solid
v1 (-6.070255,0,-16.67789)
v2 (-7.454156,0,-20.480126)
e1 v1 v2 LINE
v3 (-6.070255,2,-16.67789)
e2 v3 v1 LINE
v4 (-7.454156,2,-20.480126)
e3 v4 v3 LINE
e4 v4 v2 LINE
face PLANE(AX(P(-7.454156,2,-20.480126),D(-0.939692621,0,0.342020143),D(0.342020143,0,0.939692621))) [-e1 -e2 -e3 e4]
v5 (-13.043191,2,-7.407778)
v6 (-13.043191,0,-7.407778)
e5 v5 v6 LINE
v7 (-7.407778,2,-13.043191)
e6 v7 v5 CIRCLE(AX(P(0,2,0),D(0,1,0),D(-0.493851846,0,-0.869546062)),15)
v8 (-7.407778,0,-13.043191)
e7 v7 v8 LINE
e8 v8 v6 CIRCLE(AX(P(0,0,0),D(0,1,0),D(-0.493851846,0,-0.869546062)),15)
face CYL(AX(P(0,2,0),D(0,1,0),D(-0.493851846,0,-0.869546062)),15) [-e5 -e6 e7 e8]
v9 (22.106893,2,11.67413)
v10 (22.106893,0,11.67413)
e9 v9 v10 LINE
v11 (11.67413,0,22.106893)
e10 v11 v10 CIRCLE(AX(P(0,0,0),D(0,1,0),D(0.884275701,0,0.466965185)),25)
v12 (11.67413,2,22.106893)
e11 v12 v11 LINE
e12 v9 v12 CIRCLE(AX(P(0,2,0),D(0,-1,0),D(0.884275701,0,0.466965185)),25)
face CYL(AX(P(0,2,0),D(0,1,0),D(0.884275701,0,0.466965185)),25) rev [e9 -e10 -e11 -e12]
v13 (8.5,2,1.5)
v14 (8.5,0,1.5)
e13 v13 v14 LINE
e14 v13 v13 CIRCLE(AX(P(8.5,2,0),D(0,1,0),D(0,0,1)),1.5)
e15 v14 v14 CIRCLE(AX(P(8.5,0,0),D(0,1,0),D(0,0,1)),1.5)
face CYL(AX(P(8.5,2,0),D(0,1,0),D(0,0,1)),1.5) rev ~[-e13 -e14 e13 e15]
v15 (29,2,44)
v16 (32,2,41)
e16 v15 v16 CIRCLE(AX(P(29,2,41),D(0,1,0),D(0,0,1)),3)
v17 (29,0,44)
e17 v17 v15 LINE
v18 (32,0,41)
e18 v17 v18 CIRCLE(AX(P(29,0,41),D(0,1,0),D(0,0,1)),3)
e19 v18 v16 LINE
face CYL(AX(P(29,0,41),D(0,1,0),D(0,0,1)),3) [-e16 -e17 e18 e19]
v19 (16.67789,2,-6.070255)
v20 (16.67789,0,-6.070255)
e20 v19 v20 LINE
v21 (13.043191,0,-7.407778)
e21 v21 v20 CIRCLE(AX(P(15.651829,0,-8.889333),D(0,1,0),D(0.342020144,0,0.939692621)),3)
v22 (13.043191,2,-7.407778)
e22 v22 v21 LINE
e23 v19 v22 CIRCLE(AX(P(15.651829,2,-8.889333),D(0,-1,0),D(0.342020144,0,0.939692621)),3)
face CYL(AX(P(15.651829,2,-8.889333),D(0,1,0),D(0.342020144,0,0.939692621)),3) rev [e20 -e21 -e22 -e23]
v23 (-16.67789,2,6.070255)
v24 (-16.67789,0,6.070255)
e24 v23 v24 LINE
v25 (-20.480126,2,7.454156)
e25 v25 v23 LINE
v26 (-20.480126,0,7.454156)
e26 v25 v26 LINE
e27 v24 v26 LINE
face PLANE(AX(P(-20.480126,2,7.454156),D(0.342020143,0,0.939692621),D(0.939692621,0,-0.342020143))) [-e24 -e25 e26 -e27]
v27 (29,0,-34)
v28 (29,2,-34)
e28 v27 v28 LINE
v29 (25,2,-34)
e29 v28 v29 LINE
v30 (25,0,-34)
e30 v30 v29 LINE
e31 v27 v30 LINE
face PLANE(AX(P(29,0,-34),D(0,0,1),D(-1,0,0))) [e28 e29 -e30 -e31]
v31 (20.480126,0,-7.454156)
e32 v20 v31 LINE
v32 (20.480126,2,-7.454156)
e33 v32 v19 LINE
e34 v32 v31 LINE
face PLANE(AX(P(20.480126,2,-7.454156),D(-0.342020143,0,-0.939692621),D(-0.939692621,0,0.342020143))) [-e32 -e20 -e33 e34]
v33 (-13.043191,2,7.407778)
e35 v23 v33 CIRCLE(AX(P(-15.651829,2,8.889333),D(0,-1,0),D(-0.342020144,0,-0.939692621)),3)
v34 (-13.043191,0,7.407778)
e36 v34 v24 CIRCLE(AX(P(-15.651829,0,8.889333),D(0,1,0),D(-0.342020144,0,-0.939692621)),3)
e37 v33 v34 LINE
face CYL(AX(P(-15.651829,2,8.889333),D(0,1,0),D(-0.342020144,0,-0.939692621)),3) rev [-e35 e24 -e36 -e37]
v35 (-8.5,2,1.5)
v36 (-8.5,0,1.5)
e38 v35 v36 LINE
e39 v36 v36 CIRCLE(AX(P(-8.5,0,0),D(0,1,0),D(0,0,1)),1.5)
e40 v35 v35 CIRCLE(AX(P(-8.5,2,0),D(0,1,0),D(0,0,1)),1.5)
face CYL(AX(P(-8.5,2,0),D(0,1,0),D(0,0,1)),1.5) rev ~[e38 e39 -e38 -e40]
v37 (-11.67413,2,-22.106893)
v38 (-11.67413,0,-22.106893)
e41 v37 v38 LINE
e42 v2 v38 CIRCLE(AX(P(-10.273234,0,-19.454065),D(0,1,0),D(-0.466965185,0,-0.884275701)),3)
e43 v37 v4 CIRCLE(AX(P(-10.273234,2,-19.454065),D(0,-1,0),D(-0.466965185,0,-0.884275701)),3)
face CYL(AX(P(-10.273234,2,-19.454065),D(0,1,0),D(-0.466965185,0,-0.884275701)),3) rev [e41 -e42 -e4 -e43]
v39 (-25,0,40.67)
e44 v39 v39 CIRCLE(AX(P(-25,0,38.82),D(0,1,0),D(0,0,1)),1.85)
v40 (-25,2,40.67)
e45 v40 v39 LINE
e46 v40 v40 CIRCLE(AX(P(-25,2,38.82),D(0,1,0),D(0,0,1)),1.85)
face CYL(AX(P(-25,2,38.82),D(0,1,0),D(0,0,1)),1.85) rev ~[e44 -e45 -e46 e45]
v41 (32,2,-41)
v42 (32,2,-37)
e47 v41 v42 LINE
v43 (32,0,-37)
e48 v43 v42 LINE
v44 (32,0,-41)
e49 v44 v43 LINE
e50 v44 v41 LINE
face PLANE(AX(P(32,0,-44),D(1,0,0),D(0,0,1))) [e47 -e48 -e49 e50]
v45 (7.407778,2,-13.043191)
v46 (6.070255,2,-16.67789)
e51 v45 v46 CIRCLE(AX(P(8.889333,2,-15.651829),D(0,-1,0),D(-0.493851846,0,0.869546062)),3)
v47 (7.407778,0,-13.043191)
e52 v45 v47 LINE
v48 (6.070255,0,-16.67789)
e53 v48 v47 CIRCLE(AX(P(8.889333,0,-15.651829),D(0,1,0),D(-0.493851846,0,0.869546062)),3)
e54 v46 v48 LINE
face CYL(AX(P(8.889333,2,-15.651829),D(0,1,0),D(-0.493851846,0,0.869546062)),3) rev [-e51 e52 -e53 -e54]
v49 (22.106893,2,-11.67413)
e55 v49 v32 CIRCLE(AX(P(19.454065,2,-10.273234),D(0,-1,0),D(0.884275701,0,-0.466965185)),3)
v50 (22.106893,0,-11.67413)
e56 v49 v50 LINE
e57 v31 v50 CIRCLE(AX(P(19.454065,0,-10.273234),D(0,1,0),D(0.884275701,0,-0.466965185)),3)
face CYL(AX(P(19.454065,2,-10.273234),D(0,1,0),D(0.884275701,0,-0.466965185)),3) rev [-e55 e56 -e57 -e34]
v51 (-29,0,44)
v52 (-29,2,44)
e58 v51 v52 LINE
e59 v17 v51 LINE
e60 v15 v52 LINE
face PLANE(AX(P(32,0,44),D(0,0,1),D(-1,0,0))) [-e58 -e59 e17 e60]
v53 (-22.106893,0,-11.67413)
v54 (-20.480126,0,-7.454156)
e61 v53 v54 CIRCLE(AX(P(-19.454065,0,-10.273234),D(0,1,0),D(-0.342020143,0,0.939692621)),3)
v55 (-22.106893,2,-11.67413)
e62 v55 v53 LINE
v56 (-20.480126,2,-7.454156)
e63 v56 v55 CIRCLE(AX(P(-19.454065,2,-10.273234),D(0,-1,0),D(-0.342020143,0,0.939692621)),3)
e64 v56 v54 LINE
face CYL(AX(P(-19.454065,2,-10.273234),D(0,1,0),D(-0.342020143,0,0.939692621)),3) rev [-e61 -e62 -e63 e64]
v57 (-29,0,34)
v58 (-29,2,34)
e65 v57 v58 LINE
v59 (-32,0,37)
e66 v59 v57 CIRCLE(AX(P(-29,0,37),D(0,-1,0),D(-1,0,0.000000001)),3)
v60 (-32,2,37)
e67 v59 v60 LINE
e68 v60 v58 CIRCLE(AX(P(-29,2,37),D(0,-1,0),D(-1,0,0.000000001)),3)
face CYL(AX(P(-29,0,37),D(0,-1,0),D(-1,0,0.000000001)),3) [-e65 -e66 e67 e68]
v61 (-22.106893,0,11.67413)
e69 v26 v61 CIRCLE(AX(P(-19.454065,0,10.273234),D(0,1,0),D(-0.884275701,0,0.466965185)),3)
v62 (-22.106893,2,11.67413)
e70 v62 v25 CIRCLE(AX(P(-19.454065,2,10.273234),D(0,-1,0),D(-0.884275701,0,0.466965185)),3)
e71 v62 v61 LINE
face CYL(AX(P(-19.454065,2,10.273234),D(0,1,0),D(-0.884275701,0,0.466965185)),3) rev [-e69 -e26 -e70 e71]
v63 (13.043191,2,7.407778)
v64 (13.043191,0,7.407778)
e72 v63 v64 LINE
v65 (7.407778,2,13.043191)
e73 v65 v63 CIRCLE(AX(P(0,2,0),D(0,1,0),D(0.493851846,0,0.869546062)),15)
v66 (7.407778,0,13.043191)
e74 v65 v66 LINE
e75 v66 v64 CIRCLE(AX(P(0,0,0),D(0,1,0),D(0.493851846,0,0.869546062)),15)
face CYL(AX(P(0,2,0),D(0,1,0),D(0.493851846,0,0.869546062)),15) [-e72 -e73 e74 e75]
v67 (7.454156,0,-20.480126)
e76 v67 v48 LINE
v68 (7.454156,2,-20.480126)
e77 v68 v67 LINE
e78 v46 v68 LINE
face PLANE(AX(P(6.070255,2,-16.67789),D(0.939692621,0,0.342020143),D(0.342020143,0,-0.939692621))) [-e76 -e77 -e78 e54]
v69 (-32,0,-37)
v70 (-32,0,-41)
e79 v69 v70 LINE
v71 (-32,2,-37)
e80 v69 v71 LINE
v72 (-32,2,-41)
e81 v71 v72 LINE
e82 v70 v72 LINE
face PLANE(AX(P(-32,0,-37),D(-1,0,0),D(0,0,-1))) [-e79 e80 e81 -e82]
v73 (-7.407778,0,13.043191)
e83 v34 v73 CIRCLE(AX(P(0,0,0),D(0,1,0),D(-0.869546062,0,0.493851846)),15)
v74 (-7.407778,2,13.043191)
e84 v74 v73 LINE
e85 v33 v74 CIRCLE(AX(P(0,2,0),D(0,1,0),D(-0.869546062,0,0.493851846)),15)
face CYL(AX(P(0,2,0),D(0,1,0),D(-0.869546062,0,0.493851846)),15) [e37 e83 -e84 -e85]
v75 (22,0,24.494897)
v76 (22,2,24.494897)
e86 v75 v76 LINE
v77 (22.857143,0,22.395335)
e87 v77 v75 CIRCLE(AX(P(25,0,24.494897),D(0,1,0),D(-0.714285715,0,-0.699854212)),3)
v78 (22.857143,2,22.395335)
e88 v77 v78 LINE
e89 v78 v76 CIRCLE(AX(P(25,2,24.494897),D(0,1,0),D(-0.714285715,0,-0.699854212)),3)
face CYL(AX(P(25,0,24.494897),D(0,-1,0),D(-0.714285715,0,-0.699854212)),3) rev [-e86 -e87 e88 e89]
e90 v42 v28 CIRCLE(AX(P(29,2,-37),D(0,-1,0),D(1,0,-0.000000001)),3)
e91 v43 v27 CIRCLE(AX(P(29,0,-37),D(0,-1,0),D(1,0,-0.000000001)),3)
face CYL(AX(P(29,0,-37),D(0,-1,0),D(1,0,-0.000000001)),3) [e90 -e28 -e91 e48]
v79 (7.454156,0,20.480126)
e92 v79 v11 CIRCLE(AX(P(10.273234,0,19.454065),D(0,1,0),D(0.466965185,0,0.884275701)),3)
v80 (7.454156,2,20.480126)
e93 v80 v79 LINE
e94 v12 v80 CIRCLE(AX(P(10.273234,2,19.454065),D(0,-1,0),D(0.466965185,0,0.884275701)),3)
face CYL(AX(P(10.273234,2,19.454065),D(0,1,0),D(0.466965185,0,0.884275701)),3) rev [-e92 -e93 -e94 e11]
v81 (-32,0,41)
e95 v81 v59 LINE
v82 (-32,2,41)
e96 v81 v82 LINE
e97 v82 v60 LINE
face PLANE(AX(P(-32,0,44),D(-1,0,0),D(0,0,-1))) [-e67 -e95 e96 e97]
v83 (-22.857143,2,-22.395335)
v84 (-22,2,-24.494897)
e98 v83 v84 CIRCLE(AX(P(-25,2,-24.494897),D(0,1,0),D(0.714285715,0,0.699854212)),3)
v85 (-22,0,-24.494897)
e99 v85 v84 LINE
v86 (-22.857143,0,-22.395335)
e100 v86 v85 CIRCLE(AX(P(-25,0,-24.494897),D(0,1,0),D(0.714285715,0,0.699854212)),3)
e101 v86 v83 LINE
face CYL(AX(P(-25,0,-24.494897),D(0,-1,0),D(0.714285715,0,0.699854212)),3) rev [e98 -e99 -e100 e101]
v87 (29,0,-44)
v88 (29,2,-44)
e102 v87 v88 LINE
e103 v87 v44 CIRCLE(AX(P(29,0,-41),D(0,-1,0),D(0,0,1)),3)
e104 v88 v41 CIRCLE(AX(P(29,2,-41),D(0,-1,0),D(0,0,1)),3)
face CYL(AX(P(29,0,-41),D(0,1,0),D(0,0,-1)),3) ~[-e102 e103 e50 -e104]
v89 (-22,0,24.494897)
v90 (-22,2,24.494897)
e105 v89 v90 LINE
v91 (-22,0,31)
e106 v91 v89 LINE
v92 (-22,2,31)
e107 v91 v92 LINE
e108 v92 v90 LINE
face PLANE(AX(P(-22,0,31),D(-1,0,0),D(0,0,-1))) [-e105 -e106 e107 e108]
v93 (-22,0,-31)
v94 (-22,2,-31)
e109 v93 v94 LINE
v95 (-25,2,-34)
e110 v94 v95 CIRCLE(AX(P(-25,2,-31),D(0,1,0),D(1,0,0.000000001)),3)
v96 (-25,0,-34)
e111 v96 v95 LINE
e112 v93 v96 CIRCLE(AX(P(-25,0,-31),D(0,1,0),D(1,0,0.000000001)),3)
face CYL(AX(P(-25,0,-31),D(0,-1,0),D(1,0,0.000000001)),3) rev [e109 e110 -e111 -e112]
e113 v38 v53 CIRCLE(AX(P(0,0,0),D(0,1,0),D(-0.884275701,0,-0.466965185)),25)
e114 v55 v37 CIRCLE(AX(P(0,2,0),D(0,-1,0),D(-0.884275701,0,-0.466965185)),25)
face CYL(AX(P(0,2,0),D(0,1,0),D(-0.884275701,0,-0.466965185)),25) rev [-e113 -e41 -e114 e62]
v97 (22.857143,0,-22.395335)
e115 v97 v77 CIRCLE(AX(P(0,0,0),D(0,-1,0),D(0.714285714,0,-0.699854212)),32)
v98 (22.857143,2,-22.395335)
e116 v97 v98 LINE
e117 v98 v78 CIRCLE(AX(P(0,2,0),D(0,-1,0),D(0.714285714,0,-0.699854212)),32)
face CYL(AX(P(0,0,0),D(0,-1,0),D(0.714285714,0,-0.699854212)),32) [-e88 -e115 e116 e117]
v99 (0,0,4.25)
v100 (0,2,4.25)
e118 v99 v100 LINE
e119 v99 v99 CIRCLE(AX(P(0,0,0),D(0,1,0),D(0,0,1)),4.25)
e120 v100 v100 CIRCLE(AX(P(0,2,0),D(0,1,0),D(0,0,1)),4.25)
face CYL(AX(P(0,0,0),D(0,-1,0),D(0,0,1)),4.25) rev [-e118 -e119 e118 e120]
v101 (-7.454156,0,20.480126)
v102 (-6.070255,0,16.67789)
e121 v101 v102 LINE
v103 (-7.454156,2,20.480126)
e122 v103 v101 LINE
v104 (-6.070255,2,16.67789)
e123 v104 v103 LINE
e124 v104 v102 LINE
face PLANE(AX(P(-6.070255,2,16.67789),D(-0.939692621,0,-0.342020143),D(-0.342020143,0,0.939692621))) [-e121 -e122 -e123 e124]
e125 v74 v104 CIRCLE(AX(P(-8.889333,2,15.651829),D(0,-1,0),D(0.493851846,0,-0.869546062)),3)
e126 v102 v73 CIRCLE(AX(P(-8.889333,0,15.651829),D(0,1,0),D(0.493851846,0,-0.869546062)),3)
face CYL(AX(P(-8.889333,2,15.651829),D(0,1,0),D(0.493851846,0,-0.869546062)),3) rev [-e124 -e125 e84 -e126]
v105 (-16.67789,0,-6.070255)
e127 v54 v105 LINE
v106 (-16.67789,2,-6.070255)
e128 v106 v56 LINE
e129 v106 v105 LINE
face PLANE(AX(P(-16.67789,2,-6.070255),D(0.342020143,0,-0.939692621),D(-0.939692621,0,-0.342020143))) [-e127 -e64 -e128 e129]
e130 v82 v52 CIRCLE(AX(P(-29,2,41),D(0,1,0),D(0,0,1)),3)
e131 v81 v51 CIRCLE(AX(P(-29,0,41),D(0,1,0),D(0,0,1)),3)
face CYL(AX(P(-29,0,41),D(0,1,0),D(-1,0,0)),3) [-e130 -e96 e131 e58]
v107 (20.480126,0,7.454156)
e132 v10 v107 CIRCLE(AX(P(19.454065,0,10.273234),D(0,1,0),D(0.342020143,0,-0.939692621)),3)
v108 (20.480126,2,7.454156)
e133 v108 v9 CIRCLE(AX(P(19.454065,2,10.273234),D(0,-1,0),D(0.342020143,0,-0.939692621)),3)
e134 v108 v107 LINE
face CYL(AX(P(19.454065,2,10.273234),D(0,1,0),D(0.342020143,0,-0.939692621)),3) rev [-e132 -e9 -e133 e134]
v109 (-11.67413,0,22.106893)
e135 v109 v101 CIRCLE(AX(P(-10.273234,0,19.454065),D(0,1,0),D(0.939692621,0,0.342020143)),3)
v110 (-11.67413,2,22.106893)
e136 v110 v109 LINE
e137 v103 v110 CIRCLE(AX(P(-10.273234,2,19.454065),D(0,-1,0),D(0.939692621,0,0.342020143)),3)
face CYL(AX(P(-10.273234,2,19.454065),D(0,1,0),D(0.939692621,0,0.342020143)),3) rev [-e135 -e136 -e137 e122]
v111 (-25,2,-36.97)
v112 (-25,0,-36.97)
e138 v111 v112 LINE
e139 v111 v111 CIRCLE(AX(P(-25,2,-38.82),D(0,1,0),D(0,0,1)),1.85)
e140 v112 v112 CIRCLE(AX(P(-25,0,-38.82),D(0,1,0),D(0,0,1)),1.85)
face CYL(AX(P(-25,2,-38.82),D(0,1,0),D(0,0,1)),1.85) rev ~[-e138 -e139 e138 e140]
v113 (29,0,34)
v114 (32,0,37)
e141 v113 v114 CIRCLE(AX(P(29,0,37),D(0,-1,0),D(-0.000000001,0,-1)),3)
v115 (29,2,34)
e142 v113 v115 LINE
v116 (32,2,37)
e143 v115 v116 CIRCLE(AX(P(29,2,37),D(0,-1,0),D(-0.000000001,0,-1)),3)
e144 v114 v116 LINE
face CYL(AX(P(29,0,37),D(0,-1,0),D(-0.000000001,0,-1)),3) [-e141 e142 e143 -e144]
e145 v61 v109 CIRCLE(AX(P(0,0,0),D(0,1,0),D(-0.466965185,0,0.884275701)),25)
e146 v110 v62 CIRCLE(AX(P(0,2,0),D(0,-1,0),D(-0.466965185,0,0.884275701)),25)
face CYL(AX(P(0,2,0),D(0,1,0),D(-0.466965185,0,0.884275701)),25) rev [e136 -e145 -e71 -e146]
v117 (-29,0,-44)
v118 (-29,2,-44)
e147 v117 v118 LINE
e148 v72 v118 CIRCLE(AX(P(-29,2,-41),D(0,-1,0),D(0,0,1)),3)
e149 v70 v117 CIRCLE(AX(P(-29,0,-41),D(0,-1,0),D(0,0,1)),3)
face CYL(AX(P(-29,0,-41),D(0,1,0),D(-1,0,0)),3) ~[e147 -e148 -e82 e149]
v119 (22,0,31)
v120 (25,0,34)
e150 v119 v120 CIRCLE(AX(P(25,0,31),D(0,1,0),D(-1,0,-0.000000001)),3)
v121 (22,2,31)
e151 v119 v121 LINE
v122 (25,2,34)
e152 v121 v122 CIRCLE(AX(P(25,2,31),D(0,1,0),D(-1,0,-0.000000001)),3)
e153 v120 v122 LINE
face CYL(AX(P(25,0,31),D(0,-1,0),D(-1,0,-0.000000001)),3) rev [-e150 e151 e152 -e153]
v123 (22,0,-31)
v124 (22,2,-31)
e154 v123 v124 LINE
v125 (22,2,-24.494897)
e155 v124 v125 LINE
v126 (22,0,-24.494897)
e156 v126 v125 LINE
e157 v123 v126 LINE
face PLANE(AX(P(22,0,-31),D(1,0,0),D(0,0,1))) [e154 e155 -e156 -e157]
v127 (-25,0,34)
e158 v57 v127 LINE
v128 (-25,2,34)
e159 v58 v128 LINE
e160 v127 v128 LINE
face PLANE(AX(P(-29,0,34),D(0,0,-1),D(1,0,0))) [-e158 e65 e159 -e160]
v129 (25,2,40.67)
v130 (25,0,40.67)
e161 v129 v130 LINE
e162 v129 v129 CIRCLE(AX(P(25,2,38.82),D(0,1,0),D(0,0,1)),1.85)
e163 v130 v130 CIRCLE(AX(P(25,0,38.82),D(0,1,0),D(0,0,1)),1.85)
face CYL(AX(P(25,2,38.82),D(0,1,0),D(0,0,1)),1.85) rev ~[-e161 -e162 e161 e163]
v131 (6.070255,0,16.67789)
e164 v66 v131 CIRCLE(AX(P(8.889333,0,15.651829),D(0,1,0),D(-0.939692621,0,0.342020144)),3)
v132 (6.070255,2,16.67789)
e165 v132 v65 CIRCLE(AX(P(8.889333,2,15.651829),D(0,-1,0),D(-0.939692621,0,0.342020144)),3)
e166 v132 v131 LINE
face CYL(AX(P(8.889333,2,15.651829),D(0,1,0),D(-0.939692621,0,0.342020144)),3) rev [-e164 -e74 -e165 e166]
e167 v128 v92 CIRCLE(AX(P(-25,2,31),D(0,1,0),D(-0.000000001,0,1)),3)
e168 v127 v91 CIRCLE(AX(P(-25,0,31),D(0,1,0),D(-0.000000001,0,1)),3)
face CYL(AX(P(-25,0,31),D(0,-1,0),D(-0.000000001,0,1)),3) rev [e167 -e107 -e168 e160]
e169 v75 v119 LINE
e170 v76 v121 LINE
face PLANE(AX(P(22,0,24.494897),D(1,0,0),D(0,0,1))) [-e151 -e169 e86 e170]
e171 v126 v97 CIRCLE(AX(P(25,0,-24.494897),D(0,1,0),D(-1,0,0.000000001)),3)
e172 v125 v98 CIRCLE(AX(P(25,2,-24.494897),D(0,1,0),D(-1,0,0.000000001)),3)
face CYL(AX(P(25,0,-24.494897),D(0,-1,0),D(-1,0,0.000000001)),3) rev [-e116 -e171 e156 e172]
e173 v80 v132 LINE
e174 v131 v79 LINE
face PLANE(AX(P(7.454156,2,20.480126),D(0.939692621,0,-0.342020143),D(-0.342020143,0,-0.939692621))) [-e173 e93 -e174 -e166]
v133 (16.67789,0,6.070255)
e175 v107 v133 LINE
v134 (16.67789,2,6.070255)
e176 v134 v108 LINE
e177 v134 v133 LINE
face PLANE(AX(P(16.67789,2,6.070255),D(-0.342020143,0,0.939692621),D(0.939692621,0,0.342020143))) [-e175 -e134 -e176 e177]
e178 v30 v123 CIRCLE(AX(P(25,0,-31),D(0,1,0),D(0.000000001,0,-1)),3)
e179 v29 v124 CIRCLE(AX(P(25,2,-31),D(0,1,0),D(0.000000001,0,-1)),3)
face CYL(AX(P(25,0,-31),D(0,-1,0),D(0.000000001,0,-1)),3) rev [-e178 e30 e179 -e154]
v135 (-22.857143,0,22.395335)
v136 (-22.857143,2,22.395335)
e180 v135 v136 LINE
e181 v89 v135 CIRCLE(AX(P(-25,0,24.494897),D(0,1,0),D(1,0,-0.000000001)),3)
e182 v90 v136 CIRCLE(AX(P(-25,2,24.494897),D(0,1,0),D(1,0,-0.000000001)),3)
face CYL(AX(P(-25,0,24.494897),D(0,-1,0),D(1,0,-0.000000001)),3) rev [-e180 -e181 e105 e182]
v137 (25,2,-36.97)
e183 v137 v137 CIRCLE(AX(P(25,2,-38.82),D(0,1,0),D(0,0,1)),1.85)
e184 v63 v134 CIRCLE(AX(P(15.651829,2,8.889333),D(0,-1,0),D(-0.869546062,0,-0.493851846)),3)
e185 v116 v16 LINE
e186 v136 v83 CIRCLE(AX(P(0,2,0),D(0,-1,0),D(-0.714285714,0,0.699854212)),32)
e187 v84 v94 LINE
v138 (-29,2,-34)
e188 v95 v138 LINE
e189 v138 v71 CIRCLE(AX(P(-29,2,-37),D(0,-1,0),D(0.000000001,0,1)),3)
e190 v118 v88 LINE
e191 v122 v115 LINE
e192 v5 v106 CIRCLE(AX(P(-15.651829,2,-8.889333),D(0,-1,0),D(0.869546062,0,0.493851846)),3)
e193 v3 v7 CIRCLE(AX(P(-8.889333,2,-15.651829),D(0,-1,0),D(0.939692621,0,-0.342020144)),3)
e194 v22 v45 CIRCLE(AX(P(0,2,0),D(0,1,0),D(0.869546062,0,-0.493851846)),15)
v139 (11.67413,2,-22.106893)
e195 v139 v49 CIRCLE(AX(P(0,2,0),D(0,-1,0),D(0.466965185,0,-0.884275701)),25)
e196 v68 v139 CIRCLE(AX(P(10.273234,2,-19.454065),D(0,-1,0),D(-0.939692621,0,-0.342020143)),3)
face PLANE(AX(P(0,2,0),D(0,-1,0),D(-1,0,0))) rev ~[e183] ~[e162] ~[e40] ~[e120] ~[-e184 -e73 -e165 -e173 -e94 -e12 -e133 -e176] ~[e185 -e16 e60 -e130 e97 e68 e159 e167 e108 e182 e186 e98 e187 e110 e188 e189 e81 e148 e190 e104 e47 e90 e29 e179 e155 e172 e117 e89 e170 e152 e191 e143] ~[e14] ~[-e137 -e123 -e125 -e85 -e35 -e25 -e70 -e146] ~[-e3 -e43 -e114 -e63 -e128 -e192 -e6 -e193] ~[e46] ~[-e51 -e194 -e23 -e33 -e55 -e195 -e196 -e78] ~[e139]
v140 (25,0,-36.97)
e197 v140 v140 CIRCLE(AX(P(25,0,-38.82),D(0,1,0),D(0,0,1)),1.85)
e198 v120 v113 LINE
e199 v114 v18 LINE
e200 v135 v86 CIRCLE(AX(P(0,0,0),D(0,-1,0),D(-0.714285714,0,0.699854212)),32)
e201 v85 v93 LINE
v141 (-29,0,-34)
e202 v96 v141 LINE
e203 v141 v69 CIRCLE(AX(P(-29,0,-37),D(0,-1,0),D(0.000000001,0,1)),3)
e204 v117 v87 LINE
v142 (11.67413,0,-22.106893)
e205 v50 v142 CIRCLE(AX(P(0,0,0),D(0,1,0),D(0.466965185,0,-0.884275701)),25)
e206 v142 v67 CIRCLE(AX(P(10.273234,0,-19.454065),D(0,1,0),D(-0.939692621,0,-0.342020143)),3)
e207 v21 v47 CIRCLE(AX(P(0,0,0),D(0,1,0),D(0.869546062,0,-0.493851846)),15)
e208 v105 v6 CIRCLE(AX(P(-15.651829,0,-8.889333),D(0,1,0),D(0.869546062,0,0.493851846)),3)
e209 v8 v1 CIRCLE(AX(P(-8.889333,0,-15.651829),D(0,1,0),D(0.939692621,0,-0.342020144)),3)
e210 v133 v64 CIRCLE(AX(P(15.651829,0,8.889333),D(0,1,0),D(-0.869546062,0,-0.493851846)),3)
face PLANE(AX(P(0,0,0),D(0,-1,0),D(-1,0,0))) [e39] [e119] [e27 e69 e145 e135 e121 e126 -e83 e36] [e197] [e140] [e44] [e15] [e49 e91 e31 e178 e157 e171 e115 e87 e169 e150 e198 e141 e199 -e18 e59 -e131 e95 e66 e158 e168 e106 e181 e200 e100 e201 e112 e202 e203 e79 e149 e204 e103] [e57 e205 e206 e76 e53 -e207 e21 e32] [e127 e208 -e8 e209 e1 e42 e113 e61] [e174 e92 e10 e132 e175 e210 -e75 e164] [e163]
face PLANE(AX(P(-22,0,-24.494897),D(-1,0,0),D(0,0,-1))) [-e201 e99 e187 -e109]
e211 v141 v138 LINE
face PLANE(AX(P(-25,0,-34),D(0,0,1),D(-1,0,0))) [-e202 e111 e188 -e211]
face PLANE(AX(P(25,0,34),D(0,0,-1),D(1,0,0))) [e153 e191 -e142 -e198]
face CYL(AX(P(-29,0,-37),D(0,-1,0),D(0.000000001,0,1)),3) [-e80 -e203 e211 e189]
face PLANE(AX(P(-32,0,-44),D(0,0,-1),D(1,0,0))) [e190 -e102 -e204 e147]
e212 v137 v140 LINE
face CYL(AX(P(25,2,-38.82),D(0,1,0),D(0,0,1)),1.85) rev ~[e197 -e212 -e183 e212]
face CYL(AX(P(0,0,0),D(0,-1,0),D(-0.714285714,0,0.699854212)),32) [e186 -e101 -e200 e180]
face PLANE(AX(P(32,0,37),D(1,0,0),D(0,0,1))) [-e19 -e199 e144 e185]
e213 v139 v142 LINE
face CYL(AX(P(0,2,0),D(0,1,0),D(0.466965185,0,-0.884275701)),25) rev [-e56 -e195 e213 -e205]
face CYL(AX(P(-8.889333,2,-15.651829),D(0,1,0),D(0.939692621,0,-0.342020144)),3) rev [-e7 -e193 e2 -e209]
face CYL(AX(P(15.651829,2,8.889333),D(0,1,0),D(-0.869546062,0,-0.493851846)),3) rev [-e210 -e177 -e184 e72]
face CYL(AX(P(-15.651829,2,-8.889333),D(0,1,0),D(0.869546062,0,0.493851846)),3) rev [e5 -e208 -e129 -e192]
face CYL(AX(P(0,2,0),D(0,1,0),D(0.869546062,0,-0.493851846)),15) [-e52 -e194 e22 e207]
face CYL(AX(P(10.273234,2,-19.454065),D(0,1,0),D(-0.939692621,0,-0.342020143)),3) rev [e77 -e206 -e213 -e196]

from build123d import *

# Parameters (mm, degrees)
SKETCH1_R           = 4.25
BOSS_EXTRUDE1_DEPTH = 2
CUT_EXTRUDE1_DEPTH  = 5
CIRPATTERN1_COUNT   = 4
SKETCH3_R           = 1.5
CUT_EXTRUDE2_DEPTH  = 5
SKETCH5_R           = 1.85
CUT_EXTRUDE3_DEPTH  = 5
FILLET1_R           = 3


with BuildPart() as part:
    # Sketch1 → Boss-Extrude1 (new body)
    with BuildSketch(Plane(origin=(0, 0, 0), x_dir=(1, 0, 0), z_dir=(0, 1, 0))):
        with BuildLine():
            Line((-29, -34), (-25, -34))
            ThreePointArc((-25, -34), (-22.878679656, -33.121320344), (-22, -31))
            Line((-22, -31), (-22, -24.494897428))
            ThreePointArc((-22, -24.494897428), (-22.222539701, -23.361004009), (-22.857142857, -22.395334791))
            ThreePointArc((-22.857142857, -22.395334791), (-32, 0), (-22.857142857, 22.395334791))
            ThreePointArc((-22.857142857, 22.395334791), (-22.222539701, 23.361004009), (-22, 24.494897428))
            Line((-22, 24.494897428), (-22, 31))
            ThreePointArc((-22, 31), (-22.878679656, 33.121320344), (-25, 34))
            Line((-25, 34), (-29, 34))
            ThreePointArc((-29, 34), (-31.121320344, 34.878679656), (-32, 37))
            Line((-32, 37), (-32, 44))
            Line((-32, 44), (32, 44))
            Line((32, 44), (32, 37))
            ThreePointArc((32, 37), (31.121320344, 34.878679656), (29, 34))
            Line((29, 34), (25, 34))
            ThreePointArc((25, 34), (22.878679656, 33.121320344), (22, 31))
            Line((22, 31), (22, 24.494897428))
            ThreePointArc((22, 24.494897428), (22.222539701, 23.361004009), (22.857142857, 22.395334791))
            ThreePointArc((22.857142857, 22.395334791), (32, 0), (22.857142857, -22.395334791))
            ThreePointArc((22.857142857, -22.395334791), (22.222539701, -23.361004009), (22, -24.494897428))
            Line((22, -24.494897428), (22, -31))
            ThreePointArc((22, -31), (22.878679656, -33.121320344), (25, -34))
            Line((25, -34), (29, -34))
            ThreePointArc((29, -34), (31.121320344, -34.878679656), (32, -37))
            Line((32, -37), (32, -44))
            Line((32, -44), (-32, -44))
            Line((-32, -44), (-32, -37))
            ThreePointArc((-32, -37), (-31.121320344, -34.878679656), (-29, -34))
        make_face()
        with Locations(Location((0, 0, 0), (0, 0, 270))):
            Circle(SKETCH1_R, mode=Mode.SUBTRACT)
    extrude(amount=BOSS_EXTRUDE1_DEPTH)

    # Sketch2 → Cut-Extrude1 (cut)
    with BuildSketch(Plane(origin=(0, 2, 0), x_dir=(1, 0, 0), z_dir=(0, 1, 0))):
        with BuildLine():
            ThreePointArc((-11.674129624, 22.106892534), (-9.194159134, 22.25327912), (-7.454156207, 20.48012586))
            Line((-7.454156207, 20.48012586), (-6.070255366, 16.677889548))
            ThreePointArc((-6.070255366, 16.677889548), (-6.073907786, 14.615788781), (-7.40777769, 13.043190932))
            ThreePointArc((-7.40777769, 13.043190932), (-10.606601718, 10.606601718), (-13.043190932, 7.40777769))
            ThreePointArc((-13.043190932, 7.40777769), (-14.615788781, 6.073907786), (-16.677889548, 6.070255366))
            Line((-16.677889548, 6.070255366), (-20.48012586, 7.454156207))
            ThreePointArc((-20.48012586, 7.454156207), (-22.25327912, 9.194159134), (-22.106892534, 11.674129624))
            ThreePointArc((-22.106892534, 11.674129624), (-17.67766953, 17.67766953), (-11.674129624, 22.106892534))
        make_face()
    cut_extrude1 = extrude(amount=-CUT_EXTRUDE1_DEPTH, mode=Mode.SUBTRACT)

    # CirPattern1: Cut-Extrude1 ×4 about axis
    cirpattern1_axis = Axis((0, 0, 0), (0, 1, 0))
    for i in range(1, CIRPATTERN1_COUNT):
        add(cut_extrude1.rotate(cirpattern1_axis, i * 360 / CIRPATTERN1_COUNT), mode=Mode.SUBTRACT)

    # Sketch3 → Cut-Extrude2 (cut)
    with BuildSketch(Plane(origin=(0, 2, 0), x_dir=(1, 0, 0), z_dir=(0, 1, 0))):
        with Locations(Location((-8.5, 0, 0), (0, 0, 270))):
            Circle(SKETCH3_R)
        with Locations(Location((8.5, 0, 0), (0, 0, 270))):
            Circle(SKETCH3_R)
    extrude(amount=-CUT_EXTRUDE2_DEPTH, mode=Mode.SUBTRACT)

    # Sketch5 → Cut-Extrude3 (cut)
    with BuildSketch(Plane(origin=(0, 2, 0), x_dir=(1, 0, 0), z_dir=(0, 1, 0))):
        with Locations(Location((25, 38.82, 0), (0, 0, 270))):
            Circle(SKETCH5_R)
        with Locations(Location((-25, 38.82, 0), (0, 0, 270))):
            Circle(SKETCH5_R)
        with Locations(Location((-25, -38.82, 0), (0, 0, 270))):
            Circle(SKETCH5_R)
        with Locations(Location((25, -38.82, 0), (0, 0, 270))):
            Circle(SKETCH5_R)
    extrude(amount=-CUT_EXTRUDE3_DEPTH, mode=Mode.SUBTRACT)

    # Fillet1
    fillet1_edges = [part.edges().sort_by_distance(p)[0] for p in [
        (-32, 1, -44),
        (32, 1, -44),
        (32, 1, 44),
        (-32, 1, 44),
    ]]
    fillet(fillet1_edges, radius=FILLET1_R)


solid = part.part
